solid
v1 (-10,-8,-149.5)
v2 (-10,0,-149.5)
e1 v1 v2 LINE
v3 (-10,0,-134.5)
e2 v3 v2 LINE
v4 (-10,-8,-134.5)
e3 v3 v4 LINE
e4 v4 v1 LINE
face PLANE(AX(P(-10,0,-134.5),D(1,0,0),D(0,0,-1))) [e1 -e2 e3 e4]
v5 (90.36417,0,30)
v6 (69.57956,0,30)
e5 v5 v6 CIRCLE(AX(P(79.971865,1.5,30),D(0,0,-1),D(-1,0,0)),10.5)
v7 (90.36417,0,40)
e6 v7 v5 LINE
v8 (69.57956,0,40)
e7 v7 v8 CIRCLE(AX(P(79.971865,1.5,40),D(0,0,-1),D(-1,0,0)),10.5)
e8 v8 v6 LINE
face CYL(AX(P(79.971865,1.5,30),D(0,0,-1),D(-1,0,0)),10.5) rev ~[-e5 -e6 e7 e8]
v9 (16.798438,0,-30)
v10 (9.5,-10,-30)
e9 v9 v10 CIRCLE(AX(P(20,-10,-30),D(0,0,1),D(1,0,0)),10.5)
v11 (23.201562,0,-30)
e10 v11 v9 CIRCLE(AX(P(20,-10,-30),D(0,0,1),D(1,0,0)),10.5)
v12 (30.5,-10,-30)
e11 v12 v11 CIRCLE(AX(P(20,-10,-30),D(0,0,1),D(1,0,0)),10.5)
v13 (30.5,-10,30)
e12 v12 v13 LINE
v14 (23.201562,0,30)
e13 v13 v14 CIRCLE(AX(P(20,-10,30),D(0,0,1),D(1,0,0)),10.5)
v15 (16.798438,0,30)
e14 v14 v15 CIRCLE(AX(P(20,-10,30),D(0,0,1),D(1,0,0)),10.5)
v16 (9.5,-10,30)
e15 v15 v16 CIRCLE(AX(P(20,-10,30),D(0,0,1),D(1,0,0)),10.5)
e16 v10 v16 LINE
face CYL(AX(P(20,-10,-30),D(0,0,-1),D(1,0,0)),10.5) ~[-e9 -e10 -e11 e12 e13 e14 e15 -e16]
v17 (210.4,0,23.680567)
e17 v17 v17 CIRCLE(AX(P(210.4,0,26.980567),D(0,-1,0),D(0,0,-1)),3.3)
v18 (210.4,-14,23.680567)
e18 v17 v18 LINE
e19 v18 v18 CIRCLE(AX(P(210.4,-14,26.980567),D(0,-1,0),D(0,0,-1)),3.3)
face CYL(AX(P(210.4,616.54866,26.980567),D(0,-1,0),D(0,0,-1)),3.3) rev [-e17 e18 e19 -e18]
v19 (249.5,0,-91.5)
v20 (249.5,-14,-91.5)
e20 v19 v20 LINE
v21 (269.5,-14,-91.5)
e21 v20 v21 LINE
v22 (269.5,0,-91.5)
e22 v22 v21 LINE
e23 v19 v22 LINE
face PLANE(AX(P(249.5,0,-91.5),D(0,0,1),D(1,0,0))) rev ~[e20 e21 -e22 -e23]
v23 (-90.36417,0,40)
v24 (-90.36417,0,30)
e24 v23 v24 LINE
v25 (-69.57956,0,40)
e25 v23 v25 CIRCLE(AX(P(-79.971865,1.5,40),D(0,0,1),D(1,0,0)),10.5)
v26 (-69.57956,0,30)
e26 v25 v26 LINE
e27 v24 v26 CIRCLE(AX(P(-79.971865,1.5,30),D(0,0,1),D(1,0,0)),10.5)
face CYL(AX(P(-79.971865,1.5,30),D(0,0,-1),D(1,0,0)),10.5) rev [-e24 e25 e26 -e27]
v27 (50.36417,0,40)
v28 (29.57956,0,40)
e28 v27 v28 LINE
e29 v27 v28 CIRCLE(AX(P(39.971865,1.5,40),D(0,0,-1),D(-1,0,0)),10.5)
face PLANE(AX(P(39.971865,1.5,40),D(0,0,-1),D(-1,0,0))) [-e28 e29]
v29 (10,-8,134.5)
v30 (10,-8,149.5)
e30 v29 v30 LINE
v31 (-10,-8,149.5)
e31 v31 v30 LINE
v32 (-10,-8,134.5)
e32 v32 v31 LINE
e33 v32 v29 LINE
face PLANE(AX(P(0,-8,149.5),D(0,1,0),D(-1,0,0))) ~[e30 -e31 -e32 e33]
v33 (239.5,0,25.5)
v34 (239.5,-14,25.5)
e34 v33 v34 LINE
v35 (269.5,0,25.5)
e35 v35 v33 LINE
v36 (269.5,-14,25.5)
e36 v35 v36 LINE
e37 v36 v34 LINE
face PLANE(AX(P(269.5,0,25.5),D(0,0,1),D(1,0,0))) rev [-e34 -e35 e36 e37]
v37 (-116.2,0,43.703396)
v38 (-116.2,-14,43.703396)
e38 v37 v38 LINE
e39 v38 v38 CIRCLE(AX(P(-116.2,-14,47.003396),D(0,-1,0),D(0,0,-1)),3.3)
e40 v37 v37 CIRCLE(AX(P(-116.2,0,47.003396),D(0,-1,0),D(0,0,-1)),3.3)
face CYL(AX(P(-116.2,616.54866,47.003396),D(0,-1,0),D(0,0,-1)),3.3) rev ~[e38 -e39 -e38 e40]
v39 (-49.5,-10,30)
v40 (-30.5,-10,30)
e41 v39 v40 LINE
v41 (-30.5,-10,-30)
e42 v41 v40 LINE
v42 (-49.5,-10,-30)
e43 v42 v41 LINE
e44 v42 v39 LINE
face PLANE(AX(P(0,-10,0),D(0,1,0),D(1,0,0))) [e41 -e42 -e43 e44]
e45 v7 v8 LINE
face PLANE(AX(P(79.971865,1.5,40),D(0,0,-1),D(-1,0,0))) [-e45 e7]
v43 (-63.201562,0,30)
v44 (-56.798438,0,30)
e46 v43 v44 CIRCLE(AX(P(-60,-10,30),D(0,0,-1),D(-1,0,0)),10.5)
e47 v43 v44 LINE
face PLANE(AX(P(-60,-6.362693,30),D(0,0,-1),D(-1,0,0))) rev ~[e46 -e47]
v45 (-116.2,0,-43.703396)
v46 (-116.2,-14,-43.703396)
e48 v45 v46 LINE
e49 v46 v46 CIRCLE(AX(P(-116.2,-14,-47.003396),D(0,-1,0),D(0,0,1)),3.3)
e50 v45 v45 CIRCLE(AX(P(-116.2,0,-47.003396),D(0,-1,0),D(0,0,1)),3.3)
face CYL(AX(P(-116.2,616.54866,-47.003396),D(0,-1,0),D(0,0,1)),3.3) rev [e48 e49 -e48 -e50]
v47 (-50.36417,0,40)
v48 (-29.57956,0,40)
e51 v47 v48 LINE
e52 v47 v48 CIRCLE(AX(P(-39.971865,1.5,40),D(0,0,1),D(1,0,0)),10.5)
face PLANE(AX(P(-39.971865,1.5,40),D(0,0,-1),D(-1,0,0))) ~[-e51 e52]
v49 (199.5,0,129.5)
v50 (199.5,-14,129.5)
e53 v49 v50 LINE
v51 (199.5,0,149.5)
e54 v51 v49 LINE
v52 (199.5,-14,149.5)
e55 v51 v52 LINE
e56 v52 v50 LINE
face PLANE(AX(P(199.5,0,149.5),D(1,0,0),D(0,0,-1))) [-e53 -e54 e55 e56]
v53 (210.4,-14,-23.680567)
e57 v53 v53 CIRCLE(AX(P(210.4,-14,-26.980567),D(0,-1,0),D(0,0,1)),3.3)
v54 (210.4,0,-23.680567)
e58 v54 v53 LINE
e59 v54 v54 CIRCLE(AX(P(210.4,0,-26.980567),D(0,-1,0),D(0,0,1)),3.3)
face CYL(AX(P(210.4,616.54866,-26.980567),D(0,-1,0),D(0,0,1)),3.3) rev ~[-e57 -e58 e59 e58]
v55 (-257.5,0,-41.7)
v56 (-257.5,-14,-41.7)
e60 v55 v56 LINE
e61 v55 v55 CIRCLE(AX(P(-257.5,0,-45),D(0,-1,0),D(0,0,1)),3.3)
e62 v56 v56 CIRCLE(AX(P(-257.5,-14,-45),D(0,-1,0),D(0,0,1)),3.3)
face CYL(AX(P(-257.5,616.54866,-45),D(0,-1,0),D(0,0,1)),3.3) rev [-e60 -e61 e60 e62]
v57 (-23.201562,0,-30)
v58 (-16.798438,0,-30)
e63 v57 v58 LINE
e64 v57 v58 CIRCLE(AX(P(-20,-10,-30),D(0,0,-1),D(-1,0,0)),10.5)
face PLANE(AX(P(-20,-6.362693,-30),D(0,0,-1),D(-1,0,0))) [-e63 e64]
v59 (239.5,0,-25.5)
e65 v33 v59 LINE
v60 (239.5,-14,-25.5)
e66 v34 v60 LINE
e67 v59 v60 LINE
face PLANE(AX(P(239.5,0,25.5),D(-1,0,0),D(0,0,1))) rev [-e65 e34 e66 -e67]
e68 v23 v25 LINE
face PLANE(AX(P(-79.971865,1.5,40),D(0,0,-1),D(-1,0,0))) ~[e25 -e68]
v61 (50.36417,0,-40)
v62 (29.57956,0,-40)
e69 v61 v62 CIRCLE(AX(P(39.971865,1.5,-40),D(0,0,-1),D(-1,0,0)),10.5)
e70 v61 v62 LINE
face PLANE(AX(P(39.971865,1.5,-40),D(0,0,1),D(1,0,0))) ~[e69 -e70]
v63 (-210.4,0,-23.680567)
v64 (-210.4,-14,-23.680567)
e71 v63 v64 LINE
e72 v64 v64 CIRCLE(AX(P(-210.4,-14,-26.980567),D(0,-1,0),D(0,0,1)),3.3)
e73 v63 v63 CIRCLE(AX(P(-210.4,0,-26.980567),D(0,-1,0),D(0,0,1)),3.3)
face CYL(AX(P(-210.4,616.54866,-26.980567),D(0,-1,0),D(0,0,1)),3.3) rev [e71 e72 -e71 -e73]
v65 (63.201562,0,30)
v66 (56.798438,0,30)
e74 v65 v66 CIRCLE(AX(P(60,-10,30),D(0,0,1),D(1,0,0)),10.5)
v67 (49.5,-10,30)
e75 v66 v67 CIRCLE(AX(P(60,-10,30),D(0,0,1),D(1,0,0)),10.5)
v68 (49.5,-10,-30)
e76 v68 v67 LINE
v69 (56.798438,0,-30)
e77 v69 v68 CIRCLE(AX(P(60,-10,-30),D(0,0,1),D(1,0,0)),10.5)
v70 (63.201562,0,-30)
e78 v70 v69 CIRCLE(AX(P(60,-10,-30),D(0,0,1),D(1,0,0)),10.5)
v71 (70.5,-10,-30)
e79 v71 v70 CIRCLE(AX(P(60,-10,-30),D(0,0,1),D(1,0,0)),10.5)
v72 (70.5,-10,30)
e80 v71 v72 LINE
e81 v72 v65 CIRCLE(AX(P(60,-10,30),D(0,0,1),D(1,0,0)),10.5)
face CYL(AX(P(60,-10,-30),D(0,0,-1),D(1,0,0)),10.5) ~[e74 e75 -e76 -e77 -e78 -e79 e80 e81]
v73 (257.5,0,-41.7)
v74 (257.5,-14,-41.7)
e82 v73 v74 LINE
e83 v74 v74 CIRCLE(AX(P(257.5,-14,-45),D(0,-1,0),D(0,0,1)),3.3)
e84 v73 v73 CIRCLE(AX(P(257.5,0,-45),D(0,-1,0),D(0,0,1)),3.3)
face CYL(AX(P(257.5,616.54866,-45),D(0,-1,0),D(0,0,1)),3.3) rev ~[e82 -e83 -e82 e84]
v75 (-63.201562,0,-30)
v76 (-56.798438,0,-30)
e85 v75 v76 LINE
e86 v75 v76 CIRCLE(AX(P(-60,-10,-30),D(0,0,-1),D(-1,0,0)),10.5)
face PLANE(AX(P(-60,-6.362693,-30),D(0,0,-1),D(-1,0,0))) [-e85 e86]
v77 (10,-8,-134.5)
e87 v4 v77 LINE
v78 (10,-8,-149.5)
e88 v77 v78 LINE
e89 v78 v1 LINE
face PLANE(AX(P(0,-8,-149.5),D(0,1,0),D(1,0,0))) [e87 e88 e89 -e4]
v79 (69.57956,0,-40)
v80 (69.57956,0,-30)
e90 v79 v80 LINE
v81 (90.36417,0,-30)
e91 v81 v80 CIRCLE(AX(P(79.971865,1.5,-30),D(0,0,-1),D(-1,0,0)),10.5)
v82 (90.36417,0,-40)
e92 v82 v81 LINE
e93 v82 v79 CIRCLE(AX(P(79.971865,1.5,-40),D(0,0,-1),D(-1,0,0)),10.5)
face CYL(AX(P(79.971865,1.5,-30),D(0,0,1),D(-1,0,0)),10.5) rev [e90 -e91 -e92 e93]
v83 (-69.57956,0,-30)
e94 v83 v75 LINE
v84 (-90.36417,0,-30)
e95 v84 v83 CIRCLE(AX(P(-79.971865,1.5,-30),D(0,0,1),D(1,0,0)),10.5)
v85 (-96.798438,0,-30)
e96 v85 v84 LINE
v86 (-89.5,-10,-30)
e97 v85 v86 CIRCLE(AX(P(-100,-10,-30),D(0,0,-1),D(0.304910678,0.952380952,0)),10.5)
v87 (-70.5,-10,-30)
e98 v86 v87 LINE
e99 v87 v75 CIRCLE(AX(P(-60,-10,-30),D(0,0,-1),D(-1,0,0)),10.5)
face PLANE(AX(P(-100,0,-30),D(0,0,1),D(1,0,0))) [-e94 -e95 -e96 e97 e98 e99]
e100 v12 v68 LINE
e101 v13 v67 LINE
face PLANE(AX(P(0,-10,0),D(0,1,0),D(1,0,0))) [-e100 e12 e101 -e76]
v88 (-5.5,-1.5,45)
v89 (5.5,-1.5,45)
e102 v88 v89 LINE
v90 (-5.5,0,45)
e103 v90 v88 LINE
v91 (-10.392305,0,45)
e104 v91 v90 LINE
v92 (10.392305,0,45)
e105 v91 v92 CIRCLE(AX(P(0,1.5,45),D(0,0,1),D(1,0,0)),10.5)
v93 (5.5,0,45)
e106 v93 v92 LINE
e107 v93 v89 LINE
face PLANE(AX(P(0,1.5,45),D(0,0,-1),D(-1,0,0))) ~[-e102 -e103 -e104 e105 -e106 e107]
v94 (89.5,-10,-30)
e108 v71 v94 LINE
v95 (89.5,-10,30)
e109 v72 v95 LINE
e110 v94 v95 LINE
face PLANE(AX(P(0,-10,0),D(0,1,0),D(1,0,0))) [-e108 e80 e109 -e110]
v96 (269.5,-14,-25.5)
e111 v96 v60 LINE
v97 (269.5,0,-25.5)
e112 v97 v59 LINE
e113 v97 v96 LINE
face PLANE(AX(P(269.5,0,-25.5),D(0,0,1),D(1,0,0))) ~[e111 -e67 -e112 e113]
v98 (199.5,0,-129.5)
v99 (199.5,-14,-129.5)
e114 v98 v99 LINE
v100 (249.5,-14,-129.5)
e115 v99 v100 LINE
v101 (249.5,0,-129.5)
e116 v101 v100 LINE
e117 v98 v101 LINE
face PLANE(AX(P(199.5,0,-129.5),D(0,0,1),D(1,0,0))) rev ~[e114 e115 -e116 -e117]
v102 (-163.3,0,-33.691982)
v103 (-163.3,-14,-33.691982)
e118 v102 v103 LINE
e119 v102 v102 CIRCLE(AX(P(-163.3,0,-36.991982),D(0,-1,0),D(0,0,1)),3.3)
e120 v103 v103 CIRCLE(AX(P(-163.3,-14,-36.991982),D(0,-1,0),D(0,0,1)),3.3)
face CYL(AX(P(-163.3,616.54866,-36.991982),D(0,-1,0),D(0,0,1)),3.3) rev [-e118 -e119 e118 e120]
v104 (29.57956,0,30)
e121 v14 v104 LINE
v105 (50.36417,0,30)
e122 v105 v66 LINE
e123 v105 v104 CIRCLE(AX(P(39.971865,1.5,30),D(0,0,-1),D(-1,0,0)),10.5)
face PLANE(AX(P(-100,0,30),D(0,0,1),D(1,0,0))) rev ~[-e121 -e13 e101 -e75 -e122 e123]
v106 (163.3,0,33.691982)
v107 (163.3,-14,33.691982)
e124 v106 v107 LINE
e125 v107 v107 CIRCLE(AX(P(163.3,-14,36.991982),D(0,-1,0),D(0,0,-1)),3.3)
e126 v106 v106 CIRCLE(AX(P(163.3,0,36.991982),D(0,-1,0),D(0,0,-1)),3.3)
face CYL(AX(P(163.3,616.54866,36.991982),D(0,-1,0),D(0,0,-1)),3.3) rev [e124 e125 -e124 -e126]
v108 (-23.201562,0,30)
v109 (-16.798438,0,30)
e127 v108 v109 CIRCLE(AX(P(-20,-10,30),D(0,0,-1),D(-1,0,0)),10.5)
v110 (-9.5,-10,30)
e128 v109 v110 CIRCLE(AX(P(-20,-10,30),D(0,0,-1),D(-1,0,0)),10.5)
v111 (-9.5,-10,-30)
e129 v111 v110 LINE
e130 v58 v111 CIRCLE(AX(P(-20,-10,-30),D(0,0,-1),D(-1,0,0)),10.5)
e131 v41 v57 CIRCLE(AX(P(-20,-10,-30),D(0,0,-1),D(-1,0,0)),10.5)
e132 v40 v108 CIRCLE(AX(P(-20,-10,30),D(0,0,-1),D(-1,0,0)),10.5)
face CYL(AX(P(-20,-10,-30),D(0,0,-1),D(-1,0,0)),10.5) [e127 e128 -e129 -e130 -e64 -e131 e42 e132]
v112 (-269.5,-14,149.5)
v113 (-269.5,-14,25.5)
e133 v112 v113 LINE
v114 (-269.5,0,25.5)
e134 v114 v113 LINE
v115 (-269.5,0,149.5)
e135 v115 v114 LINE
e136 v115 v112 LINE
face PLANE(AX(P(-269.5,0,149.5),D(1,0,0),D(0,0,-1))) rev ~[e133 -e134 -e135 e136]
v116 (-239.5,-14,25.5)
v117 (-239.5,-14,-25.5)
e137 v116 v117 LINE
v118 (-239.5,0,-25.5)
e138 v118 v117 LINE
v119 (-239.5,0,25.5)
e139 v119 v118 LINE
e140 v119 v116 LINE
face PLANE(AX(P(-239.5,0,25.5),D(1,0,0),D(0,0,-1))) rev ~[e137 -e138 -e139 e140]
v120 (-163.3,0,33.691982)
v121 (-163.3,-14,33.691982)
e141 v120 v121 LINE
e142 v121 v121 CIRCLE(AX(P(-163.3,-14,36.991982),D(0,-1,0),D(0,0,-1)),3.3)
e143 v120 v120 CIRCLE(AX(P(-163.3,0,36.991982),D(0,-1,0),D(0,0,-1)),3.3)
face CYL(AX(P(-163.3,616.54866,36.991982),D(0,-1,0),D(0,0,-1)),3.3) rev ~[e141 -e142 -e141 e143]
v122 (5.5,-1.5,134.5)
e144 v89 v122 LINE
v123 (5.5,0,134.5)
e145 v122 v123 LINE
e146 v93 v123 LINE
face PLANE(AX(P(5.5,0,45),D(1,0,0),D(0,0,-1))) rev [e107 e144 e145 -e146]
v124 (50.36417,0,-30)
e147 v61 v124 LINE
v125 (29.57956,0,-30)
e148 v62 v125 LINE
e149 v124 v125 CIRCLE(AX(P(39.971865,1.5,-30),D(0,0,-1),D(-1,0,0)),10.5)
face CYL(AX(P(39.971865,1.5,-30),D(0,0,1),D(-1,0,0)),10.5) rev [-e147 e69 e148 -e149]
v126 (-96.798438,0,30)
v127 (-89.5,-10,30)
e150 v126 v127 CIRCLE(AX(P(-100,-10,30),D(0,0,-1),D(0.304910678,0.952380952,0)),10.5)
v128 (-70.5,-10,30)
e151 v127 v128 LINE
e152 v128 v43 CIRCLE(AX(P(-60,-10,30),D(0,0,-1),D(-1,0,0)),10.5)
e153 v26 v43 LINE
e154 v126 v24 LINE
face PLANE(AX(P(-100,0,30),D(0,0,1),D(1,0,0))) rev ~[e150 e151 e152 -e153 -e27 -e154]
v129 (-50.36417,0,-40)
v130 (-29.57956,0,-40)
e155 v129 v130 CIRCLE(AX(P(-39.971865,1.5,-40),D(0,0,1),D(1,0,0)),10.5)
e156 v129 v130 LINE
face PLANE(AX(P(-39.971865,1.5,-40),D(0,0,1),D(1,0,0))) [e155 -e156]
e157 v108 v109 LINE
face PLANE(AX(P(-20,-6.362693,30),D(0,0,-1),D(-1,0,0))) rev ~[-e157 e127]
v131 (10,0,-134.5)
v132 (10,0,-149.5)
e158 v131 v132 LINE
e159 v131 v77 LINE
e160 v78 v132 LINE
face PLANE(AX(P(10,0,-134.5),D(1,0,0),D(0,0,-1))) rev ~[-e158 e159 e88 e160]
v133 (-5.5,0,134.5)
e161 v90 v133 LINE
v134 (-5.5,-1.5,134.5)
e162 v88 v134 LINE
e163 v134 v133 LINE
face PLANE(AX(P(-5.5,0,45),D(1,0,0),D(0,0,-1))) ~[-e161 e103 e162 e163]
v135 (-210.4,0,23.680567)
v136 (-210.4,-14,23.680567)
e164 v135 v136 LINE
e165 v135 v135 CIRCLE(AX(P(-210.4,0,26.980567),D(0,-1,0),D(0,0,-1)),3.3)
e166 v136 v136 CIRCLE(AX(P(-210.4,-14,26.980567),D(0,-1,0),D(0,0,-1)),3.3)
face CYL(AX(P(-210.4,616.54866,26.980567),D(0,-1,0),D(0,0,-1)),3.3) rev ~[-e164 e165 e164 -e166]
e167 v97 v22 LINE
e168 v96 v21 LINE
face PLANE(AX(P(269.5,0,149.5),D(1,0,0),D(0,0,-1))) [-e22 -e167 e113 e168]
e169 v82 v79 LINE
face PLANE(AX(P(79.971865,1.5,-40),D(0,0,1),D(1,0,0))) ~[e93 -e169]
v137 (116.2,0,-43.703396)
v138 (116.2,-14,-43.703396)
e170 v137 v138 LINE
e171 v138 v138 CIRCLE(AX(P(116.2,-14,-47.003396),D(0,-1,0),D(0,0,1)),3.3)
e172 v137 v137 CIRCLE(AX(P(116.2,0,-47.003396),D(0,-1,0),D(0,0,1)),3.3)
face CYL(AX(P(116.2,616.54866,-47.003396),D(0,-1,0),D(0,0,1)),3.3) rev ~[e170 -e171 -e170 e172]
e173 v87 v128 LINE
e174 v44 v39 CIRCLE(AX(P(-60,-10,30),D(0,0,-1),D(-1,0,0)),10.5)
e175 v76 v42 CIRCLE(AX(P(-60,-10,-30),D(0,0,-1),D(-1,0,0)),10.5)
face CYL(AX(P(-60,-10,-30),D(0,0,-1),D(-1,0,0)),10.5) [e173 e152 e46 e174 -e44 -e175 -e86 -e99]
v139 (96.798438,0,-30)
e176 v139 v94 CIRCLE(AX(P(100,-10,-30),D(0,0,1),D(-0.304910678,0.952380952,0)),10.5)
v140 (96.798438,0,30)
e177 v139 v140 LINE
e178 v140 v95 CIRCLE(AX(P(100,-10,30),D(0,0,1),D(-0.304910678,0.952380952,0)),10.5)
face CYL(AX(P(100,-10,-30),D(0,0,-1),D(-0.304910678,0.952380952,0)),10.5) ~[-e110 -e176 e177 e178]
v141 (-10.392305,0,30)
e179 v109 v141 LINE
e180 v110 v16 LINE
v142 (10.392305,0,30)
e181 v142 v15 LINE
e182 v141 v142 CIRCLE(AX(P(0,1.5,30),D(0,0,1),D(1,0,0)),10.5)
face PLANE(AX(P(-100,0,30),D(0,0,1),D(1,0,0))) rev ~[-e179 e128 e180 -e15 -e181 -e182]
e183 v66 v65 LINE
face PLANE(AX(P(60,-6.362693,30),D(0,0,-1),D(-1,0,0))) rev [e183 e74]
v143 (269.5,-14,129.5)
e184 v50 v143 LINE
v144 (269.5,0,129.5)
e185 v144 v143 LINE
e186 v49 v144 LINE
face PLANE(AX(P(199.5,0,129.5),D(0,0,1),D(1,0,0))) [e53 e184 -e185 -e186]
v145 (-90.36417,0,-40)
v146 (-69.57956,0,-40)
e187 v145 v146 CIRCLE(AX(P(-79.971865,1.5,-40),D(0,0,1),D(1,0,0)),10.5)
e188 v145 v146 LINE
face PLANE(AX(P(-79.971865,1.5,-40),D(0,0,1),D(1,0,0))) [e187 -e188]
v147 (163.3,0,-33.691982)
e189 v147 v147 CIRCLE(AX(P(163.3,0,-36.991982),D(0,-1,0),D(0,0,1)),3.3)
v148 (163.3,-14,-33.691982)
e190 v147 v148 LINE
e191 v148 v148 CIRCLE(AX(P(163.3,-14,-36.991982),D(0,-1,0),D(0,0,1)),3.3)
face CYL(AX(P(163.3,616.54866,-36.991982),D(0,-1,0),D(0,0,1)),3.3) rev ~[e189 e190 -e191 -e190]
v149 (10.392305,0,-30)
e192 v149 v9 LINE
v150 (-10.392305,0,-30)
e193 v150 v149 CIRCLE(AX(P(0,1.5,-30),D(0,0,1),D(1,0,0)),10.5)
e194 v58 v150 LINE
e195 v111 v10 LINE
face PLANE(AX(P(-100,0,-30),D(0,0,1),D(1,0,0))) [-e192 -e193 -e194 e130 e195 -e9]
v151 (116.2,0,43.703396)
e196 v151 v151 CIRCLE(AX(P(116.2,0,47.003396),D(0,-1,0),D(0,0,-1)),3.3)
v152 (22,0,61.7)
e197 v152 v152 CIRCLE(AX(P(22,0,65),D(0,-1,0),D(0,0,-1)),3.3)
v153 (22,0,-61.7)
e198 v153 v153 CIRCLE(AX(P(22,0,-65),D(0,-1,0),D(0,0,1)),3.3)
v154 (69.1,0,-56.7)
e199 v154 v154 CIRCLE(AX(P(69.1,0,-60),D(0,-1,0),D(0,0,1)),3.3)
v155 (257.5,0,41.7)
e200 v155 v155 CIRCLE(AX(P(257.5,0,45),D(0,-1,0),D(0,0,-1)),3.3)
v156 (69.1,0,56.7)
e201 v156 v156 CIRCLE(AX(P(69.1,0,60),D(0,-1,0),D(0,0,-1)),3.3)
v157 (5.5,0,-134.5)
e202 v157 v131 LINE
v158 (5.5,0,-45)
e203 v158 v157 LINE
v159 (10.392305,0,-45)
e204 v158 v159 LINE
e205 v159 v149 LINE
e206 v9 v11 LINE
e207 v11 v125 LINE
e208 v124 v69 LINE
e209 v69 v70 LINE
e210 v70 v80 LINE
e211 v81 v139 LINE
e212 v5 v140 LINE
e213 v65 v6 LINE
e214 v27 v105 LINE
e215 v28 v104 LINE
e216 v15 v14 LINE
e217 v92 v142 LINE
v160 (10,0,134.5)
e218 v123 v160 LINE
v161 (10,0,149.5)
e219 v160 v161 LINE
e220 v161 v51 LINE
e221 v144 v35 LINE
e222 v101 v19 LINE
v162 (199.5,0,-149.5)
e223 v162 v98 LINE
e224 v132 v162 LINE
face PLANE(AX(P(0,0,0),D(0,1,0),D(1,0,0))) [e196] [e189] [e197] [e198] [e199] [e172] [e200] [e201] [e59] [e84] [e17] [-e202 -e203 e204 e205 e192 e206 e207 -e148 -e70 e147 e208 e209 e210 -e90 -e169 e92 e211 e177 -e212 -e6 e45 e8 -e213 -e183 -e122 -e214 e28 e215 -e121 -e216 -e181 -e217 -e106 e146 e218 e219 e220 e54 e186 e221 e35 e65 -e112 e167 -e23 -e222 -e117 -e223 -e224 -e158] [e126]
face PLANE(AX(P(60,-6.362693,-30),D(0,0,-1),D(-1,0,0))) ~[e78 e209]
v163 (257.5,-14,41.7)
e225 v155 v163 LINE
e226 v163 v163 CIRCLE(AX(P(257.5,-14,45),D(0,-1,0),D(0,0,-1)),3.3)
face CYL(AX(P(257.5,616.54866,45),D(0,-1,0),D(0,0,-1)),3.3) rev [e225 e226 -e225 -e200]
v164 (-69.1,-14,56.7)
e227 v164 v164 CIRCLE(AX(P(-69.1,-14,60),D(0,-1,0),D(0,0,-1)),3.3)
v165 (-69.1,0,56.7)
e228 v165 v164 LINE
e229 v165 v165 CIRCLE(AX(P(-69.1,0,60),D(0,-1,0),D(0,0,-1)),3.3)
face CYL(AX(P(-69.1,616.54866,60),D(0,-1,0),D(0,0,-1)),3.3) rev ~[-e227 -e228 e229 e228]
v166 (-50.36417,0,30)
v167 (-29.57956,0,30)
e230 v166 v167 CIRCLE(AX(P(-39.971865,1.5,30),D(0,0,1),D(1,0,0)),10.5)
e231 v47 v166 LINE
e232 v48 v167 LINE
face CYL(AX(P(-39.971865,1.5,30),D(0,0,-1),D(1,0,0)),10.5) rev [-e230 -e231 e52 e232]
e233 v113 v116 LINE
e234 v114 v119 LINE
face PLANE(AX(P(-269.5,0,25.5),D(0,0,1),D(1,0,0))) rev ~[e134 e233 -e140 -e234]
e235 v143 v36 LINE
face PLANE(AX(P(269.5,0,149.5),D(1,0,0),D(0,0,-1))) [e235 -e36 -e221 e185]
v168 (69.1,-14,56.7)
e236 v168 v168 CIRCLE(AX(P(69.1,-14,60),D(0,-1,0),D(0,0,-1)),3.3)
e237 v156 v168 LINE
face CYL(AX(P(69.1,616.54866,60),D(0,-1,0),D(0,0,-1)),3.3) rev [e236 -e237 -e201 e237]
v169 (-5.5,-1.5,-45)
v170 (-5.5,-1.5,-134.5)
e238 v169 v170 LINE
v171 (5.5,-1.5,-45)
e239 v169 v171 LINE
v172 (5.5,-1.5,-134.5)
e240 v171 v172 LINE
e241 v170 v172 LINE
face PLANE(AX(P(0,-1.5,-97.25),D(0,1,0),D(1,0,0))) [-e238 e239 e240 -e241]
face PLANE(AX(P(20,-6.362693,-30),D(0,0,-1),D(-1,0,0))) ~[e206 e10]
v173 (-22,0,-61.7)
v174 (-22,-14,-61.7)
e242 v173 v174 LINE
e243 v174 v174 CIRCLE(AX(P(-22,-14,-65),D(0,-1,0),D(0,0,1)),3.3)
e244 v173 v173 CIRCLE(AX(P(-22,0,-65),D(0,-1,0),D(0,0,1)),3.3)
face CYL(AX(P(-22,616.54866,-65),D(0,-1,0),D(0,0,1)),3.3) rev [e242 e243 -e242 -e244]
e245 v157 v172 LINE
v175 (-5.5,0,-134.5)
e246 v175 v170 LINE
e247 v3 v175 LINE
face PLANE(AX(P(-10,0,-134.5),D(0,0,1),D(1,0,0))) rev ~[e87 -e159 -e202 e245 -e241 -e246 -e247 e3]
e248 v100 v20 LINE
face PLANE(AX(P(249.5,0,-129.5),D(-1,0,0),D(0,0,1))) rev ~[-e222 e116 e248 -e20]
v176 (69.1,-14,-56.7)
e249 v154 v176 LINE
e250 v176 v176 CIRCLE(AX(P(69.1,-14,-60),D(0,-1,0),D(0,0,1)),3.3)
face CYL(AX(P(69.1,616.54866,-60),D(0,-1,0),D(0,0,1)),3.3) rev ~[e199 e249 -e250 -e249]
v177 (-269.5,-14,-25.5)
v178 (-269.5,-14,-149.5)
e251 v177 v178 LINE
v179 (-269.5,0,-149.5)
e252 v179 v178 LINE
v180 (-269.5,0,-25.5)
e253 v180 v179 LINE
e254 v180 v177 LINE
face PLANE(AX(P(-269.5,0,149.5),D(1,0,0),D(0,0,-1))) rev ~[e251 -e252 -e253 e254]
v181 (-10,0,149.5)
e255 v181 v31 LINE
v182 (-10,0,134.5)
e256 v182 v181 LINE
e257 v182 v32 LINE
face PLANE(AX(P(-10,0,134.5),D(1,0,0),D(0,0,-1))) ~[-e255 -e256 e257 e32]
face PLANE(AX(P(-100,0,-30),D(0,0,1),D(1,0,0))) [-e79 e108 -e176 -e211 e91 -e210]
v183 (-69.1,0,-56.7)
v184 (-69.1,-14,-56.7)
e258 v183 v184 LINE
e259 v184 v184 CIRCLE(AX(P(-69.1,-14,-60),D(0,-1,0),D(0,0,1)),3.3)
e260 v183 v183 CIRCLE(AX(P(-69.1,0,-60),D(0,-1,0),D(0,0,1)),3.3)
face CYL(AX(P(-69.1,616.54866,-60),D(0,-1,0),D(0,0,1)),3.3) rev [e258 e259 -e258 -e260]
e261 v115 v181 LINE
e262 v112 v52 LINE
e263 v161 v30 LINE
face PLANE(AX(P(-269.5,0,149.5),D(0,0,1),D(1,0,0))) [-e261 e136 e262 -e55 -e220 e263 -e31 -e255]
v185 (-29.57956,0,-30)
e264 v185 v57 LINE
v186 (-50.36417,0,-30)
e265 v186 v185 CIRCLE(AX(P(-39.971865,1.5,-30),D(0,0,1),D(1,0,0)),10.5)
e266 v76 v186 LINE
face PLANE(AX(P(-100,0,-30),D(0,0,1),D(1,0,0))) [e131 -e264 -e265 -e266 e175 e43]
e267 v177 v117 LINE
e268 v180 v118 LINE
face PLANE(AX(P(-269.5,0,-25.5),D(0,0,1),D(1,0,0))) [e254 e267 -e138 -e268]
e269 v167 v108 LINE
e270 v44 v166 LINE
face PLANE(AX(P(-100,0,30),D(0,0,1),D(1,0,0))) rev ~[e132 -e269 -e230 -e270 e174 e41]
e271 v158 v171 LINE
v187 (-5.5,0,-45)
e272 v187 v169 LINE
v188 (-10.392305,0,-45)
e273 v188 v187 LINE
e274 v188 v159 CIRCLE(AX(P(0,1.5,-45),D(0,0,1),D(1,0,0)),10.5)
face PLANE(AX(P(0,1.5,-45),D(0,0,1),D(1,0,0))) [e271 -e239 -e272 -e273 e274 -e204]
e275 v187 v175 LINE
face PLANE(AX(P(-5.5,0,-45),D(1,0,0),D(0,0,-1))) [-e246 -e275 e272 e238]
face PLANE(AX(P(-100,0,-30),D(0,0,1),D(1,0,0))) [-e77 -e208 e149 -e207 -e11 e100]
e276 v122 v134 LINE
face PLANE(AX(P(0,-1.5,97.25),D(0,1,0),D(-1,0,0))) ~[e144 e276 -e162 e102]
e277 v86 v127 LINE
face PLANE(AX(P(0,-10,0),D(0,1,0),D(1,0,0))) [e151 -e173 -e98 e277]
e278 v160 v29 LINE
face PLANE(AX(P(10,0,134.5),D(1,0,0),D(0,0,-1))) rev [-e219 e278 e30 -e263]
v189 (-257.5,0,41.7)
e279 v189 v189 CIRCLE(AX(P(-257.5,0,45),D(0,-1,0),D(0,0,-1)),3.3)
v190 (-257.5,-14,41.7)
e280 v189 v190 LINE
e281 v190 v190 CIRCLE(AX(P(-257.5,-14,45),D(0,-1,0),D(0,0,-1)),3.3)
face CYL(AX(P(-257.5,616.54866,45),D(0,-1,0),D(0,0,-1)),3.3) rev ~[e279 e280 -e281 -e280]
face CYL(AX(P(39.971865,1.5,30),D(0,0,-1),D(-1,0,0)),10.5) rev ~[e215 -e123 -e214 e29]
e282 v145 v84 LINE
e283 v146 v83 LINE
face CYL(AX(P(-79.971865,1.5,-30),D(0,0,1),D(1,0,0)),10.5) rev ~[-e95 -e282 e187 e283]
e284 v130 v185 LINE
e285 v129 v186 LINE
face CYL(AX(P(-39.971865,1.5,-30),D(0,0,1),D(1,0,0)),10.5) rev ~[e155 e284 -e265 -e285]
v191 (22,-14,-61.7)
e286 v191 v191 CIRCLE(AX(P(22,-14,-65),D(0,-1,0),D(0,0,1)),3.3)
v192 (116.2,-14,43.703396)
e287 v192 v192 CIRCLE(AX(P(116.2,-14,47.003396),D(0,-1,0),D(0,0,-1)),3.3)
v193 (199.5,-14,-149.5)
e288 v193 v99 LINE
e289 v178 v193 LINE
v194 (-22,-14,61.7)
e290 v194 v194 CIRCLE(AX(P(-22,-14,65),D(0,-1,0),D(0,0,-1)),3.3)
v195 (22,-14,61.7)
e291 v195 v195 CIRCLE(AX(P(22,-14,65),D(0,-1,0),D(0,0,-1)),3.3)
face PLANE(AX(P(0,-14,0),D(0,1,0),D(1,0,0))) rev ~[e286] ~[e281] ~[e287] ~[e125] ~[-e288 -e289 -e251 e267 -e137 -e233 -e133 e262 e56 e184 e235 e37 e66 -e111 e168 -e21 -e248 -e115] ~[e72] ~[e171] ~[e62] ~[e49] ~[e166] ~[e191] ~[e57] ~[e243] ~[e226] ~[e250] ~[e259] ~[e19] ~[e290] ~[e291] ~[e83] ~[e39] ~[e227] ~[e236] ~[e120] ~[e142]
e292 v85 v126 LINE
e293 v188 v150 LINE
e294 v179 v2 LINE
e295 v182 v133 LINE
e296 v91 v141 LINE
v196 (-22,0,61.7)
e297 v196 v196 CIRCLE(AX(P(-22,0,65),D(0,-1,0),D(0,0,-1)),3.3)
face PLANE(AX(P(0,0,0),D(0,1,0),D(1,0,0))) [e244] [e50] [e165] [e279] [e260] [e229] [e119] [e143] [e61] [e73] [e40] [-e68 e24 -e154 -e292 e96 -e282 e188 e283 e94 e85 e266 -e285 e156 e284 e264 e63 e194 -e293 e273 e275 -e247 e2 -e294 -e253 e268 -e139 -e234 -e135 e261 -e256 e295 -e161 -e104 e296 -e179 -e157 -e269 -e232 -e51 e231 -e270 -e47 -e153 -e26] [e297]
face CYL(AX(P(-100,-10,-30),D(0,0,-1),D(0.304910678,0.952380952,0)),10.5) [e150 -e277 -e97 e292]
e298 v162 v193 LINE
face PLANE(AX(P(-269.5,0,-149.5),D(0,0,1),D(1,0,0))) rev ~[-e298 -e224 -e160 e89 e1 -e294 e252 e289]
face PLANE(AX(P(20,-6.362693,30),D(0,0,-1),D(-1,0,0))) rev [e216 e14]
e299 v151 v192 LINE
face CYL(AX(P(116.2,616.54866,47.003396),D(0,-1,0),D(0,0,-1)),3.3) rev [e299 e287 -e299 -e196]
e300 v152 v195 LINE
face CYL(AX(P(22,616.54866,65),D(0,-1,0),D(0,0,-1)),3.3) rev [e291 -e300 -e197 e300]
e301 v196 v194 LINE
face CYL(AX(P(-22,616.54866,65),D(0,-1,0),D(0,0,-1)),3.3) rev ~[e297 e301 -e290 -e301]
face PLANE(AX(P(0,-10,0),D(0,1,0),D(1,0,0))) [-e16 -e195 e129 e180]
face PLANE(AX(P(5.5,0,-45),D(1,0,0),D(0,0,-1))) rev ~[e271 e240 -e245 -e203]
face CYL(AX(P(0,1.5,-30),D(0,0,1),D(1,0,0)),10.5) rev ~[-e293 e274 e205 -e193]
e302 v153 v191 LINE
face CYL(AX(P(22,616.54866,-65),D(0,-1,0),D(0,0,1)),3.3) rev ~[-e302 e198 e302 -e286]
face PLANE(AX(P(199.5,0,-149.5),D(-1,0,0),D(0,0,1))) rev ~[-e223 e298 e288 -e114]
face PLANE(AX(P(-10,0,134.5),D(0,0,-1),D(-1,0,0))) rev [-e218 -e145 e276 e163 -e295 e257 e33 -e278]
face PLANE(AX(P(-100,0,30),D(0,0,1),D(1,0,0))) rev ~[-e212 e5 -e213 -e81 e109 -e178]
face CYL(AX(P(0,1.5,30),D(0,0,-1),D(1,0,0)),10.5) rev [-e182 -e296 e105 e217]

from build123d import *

# Parameters (mm, degrees)
SKETCH1_W               = 539
SKETCH1_H               = 299
BOSS_EXTRUDE1_DEPTH     = 14
SKETCH15_W              = 70
SKETCH15_H              = 20
CUT_EXTRUDE8_DEPTH      = 309.506888092
SKETCH2_W               = 30
SKETCH2_H               = 51
CUT_EXTRUDE1_DEPTH      = 309.506888092
SKETCH16_W              = 200
SKETCH16_H              = 60
CUT_EXTRUDE9_DEPTH      = 10
SKETCH17_R              = 10.5
CUT_EXTRUDE10_DEPTH     = 15
SKETCH18_R              = 10.5
CUT_EXTRUDE11_DEPTH     = 10
BOSS_EXTRUDE2_DEPTH     = 60
MIRROR4_COPY_1_SKETCH_R = 10.5
MIRROR4_COPY_1_DEPTH    = 10
M6_CLEARANCE_HOLE1_D    = 6.6
MIRROR7_COPY_1_D        = 6.6
SKETCH23_W              = 11
SKETCH23_H              = 104.5
CUT_EXTRUDE12_DEPTH     = 1.5
SKETCH24_W              = 20
SKETCH24_H              = 30
CUT_EXTRUDE13_DEPTH     = 8


with BuildPart() as part:
    # Sketch1 → Boss-Extrude1 (new body)
    with BuildSketch(Plane(origin=(0, 0, 0), x_dir=(1, 0, 0), z_dir=(0, 1, 0))):
        Rectangle(SKETCH1_W, SKETCH1_H)
    extrude(amount=-BOSS_EXTRUDE1_DEPTH)

    # Sketch15 → Cut-Extrude8 (cut, through all)
    with BuildSketch(Plane(origin=(0, 0, 0), x_dir=(1, 0, 0), z_dir=(0, 1, 0))):
        Polygon((269.5, 149.5), (199.5, 149.5), (199.5, 129.5), (249.5, 129.5), (249.5, 91.5), (269.5, 91.5), align=None)
        with Locations((234.5, -139.5)):
            Rectangle(SKETCH15_W, SKETCH15_H)
    extrude(amount=-CUT_EXTRUDE8_DEPTH, mode=Mode.SUBTRACT)

    # Sketch2 → Cut-Extrude1 (cut, through all)
    with BuildSketch(Plane(origin=(0, 0, 0), x_dir=(1, 0, 0), z_dir=(0, 1, 0))):
        with Locations((-254.5, 0)):
            Rectangle(SKETCH2_W, SKETCH2_H)
    cut_extrude1 = extrude(amount=-CUT_EXTRUDE1_DEPTH, mode=Mode.SUBTRACT)

    # Mirror1: Cut-Extrude1 across plane
    add(cut_extrude1.mirror(Plane(origin=(0, 0, 0), x_dir=(0, 0, 1), z_dir=(1, 0, 0))), mode=Mode.SUBTRACT)

    # Sketch16 → Cut-Extrude9 (cut)
    with BuildSketch(Plane(origin=(0, 0, 0), x_dir=(1, 0, 0), z_dir=(0, 1, 0))):
        Rectangle(SKETCH16_W, SKETCH16_H)
    extrude(amount=-CUT_EXTRUDE9_DEPTH, mode=Mode.SUBTRACT)

    # Sketch17 → Cut-Extrude10 (cut)
    with BuildSketch(Plane.XY.offset(-30)):
        with Locations((0, 1.5)):
            Circle(SKETCH17_R)
    cut_extrude10 = extrude(amount=-CUT_EXTRUDE10_DEPTH, mode=Mode.SUBTRACT)

    # Sketch18 → Cut-Extrude11 (cut)
    with BuildSketch(Plane.XY.offset(-30)):
        with Locations((-39.971865105, 1.5)):
            Circle(SKETCH18_R)
        with Locations((-79.971865105, 1.5)):
            Circle(SKETCH18_R)
    cut_extrude11 = extrude(amount=-CUT_EXTRUDE11_DEPTH, mode=Mode.SUBTRACT)

    # Sketch19 → Boss-Extrude2 (add)
    with BuildSketch(Plane.XY.offset(-30)):
        with BuildLine():
            Line((-9.5, -10), (-30.5, -10))
            ThreePointArc((-30.5, -10), (-20, 0.5), (-9.5, -10))
        make_face()
        with BuildLine():
            Line((-89.5, -10), (-100, -10))
            Line((-100, -10), (-100, 0))
            Line((-100, 0), (-96.798437881, 0))
            ThreePointArc((-96.798437881, 0), (-91.518655701, -3.809943548), (-89.5, -10))
        make_face()
        with BuildLine():
            Line((-49.5, -10), (-70.5, -10))
            ThreePointArc((-70.5, -10), (-60, 0.5), (-49.5, -10))
        make_face()
    boss_extrude2 = extrude(amount=BOSS_EXTRUDE2_DEPTH)

    # Mirror2: Boss-Extrude2 across plane
    add(boss_extrude2.mirror(Plane(origin=(0, 0, 0), x_dir=(0, 0, 1), z_dir=(1, 0, 0))))

    # Mirror3: Cut-Extrude11 across plane
    add(cut_extrude11.mirror(Plane(origin=(0, 0, 0), x_dir=(0, 0, 1), z_dir=(1, 0, 0))), mode=Mode.SUBTRACT)

    # Mirror4: Cut-Extrude10, Cut-Extrude11 across plane
    add(cut_extrude10.mirror(Plane.XY), mode=Mode.SUBTRACT)
    add(cut_extrude11.mirror(Plane.XY), mode=Mode.SUBTRACT)

    # Mirror4 copy 1 sketch → Mirror4 copy 1 (cut)
    with BuildSketch(Plane(origin=(0, 0, 30), x_dir=(-1, 0, 0), z_dir=(0, 0, -1))):
        with Locations((-39.971865105, 1.5)):
            Circle(MIRROR4_COPY_1_SKETCH_R)
        with Locations((-79.971865105, 1.5)):
            Circle(MIRROR4_COPY_1_SKETCH_R)
    extrude(amount=-MIRROR4_COPY_1_DEPTH, mode=Mode.SUBTRACT)

    # M6 Clearance Hole1 (through all)
    with Locations(Plane(origin=(-257.5, 0, 45), x_dir=(0, 0, 1), z_dir=(0, 1, 0))):
        with Locations((0, 0), (-18.019432511, 47.1), (-8.008018456, 94.2), (2.003395598, 141.3), (15, 188.4), (20, 235.5)):
            m6_clearance_hole1 = Hole(M6_CLEARANCE_HOLE1_D / 2)

    # Mirror6: M6 Clearance Hole1 across plane
    add(m6_clearance_hole1.mirror(Plane(origin=(0, 0, 0), x_dir=(0, 0, 1), z_dir=(1, 0, 0))), mode=Mode.SUBTRACT)

    # Mirror7: M6 Clearance Hole1 across plane
    add(m6_clearance_hole1.mirror(Plane.XY), mode=Mode.SUBTRACT)

    # Mirror7 copy 1 (through all)
    with Locations(Plane(origin=(257.5, 0, -45), x_dir=(0, 0, -1), z_dir=(0, 1, 0))):
        with Locations((0, 0), (-18.019432511, 47.1), (-8.008018456, 94.2), (2.003395598, 141.3), (15, 188.4), (20, 235.5)):
            Hole(MIRROR7_COPY_1_D / 2)

    # Sketch23 → Cut-Extrude12 (cut)
    with BuildSketch(Plane(origin=(0, 0, 0), x_dir=(1, 0, 0), z_dir=(0, 1, 0))):
        with Locations((0, 97.25)):
            Rectangle(SKETCH23_W, SKETCH23_H)
    cut_extrude12 = extrude(amount=-CUT_EXTRUDE12_DEPTH, mode=Mode.SUBTRACT)

    # Sketch24 → Cut-Extrude13 (cut)
    with BuildSketch(Plane(origin=(0, 0, 0), x_dir=(1, 0, 0), z_dir=(0, 1, 0))):
        with Locations((0, 149.5)):
            Rectangle(SKETCH24_W, SKETCH24_H)
    cut_extrude13 = extrude(amount=-CUT_EXTRUDE13_DEPTH, mode=Mode.SUBTRACT)

    # Mirror8: Cut-Extrude12, Cut-Extrude13 across plane
    add(cut_extrude12.mirror(Plane.XY), mode=Mode.SUBTRACT)
    add(cut_extrude13.mirror(Plane.XY), mode=Mode.SUBTRACT)


solid = part.part
